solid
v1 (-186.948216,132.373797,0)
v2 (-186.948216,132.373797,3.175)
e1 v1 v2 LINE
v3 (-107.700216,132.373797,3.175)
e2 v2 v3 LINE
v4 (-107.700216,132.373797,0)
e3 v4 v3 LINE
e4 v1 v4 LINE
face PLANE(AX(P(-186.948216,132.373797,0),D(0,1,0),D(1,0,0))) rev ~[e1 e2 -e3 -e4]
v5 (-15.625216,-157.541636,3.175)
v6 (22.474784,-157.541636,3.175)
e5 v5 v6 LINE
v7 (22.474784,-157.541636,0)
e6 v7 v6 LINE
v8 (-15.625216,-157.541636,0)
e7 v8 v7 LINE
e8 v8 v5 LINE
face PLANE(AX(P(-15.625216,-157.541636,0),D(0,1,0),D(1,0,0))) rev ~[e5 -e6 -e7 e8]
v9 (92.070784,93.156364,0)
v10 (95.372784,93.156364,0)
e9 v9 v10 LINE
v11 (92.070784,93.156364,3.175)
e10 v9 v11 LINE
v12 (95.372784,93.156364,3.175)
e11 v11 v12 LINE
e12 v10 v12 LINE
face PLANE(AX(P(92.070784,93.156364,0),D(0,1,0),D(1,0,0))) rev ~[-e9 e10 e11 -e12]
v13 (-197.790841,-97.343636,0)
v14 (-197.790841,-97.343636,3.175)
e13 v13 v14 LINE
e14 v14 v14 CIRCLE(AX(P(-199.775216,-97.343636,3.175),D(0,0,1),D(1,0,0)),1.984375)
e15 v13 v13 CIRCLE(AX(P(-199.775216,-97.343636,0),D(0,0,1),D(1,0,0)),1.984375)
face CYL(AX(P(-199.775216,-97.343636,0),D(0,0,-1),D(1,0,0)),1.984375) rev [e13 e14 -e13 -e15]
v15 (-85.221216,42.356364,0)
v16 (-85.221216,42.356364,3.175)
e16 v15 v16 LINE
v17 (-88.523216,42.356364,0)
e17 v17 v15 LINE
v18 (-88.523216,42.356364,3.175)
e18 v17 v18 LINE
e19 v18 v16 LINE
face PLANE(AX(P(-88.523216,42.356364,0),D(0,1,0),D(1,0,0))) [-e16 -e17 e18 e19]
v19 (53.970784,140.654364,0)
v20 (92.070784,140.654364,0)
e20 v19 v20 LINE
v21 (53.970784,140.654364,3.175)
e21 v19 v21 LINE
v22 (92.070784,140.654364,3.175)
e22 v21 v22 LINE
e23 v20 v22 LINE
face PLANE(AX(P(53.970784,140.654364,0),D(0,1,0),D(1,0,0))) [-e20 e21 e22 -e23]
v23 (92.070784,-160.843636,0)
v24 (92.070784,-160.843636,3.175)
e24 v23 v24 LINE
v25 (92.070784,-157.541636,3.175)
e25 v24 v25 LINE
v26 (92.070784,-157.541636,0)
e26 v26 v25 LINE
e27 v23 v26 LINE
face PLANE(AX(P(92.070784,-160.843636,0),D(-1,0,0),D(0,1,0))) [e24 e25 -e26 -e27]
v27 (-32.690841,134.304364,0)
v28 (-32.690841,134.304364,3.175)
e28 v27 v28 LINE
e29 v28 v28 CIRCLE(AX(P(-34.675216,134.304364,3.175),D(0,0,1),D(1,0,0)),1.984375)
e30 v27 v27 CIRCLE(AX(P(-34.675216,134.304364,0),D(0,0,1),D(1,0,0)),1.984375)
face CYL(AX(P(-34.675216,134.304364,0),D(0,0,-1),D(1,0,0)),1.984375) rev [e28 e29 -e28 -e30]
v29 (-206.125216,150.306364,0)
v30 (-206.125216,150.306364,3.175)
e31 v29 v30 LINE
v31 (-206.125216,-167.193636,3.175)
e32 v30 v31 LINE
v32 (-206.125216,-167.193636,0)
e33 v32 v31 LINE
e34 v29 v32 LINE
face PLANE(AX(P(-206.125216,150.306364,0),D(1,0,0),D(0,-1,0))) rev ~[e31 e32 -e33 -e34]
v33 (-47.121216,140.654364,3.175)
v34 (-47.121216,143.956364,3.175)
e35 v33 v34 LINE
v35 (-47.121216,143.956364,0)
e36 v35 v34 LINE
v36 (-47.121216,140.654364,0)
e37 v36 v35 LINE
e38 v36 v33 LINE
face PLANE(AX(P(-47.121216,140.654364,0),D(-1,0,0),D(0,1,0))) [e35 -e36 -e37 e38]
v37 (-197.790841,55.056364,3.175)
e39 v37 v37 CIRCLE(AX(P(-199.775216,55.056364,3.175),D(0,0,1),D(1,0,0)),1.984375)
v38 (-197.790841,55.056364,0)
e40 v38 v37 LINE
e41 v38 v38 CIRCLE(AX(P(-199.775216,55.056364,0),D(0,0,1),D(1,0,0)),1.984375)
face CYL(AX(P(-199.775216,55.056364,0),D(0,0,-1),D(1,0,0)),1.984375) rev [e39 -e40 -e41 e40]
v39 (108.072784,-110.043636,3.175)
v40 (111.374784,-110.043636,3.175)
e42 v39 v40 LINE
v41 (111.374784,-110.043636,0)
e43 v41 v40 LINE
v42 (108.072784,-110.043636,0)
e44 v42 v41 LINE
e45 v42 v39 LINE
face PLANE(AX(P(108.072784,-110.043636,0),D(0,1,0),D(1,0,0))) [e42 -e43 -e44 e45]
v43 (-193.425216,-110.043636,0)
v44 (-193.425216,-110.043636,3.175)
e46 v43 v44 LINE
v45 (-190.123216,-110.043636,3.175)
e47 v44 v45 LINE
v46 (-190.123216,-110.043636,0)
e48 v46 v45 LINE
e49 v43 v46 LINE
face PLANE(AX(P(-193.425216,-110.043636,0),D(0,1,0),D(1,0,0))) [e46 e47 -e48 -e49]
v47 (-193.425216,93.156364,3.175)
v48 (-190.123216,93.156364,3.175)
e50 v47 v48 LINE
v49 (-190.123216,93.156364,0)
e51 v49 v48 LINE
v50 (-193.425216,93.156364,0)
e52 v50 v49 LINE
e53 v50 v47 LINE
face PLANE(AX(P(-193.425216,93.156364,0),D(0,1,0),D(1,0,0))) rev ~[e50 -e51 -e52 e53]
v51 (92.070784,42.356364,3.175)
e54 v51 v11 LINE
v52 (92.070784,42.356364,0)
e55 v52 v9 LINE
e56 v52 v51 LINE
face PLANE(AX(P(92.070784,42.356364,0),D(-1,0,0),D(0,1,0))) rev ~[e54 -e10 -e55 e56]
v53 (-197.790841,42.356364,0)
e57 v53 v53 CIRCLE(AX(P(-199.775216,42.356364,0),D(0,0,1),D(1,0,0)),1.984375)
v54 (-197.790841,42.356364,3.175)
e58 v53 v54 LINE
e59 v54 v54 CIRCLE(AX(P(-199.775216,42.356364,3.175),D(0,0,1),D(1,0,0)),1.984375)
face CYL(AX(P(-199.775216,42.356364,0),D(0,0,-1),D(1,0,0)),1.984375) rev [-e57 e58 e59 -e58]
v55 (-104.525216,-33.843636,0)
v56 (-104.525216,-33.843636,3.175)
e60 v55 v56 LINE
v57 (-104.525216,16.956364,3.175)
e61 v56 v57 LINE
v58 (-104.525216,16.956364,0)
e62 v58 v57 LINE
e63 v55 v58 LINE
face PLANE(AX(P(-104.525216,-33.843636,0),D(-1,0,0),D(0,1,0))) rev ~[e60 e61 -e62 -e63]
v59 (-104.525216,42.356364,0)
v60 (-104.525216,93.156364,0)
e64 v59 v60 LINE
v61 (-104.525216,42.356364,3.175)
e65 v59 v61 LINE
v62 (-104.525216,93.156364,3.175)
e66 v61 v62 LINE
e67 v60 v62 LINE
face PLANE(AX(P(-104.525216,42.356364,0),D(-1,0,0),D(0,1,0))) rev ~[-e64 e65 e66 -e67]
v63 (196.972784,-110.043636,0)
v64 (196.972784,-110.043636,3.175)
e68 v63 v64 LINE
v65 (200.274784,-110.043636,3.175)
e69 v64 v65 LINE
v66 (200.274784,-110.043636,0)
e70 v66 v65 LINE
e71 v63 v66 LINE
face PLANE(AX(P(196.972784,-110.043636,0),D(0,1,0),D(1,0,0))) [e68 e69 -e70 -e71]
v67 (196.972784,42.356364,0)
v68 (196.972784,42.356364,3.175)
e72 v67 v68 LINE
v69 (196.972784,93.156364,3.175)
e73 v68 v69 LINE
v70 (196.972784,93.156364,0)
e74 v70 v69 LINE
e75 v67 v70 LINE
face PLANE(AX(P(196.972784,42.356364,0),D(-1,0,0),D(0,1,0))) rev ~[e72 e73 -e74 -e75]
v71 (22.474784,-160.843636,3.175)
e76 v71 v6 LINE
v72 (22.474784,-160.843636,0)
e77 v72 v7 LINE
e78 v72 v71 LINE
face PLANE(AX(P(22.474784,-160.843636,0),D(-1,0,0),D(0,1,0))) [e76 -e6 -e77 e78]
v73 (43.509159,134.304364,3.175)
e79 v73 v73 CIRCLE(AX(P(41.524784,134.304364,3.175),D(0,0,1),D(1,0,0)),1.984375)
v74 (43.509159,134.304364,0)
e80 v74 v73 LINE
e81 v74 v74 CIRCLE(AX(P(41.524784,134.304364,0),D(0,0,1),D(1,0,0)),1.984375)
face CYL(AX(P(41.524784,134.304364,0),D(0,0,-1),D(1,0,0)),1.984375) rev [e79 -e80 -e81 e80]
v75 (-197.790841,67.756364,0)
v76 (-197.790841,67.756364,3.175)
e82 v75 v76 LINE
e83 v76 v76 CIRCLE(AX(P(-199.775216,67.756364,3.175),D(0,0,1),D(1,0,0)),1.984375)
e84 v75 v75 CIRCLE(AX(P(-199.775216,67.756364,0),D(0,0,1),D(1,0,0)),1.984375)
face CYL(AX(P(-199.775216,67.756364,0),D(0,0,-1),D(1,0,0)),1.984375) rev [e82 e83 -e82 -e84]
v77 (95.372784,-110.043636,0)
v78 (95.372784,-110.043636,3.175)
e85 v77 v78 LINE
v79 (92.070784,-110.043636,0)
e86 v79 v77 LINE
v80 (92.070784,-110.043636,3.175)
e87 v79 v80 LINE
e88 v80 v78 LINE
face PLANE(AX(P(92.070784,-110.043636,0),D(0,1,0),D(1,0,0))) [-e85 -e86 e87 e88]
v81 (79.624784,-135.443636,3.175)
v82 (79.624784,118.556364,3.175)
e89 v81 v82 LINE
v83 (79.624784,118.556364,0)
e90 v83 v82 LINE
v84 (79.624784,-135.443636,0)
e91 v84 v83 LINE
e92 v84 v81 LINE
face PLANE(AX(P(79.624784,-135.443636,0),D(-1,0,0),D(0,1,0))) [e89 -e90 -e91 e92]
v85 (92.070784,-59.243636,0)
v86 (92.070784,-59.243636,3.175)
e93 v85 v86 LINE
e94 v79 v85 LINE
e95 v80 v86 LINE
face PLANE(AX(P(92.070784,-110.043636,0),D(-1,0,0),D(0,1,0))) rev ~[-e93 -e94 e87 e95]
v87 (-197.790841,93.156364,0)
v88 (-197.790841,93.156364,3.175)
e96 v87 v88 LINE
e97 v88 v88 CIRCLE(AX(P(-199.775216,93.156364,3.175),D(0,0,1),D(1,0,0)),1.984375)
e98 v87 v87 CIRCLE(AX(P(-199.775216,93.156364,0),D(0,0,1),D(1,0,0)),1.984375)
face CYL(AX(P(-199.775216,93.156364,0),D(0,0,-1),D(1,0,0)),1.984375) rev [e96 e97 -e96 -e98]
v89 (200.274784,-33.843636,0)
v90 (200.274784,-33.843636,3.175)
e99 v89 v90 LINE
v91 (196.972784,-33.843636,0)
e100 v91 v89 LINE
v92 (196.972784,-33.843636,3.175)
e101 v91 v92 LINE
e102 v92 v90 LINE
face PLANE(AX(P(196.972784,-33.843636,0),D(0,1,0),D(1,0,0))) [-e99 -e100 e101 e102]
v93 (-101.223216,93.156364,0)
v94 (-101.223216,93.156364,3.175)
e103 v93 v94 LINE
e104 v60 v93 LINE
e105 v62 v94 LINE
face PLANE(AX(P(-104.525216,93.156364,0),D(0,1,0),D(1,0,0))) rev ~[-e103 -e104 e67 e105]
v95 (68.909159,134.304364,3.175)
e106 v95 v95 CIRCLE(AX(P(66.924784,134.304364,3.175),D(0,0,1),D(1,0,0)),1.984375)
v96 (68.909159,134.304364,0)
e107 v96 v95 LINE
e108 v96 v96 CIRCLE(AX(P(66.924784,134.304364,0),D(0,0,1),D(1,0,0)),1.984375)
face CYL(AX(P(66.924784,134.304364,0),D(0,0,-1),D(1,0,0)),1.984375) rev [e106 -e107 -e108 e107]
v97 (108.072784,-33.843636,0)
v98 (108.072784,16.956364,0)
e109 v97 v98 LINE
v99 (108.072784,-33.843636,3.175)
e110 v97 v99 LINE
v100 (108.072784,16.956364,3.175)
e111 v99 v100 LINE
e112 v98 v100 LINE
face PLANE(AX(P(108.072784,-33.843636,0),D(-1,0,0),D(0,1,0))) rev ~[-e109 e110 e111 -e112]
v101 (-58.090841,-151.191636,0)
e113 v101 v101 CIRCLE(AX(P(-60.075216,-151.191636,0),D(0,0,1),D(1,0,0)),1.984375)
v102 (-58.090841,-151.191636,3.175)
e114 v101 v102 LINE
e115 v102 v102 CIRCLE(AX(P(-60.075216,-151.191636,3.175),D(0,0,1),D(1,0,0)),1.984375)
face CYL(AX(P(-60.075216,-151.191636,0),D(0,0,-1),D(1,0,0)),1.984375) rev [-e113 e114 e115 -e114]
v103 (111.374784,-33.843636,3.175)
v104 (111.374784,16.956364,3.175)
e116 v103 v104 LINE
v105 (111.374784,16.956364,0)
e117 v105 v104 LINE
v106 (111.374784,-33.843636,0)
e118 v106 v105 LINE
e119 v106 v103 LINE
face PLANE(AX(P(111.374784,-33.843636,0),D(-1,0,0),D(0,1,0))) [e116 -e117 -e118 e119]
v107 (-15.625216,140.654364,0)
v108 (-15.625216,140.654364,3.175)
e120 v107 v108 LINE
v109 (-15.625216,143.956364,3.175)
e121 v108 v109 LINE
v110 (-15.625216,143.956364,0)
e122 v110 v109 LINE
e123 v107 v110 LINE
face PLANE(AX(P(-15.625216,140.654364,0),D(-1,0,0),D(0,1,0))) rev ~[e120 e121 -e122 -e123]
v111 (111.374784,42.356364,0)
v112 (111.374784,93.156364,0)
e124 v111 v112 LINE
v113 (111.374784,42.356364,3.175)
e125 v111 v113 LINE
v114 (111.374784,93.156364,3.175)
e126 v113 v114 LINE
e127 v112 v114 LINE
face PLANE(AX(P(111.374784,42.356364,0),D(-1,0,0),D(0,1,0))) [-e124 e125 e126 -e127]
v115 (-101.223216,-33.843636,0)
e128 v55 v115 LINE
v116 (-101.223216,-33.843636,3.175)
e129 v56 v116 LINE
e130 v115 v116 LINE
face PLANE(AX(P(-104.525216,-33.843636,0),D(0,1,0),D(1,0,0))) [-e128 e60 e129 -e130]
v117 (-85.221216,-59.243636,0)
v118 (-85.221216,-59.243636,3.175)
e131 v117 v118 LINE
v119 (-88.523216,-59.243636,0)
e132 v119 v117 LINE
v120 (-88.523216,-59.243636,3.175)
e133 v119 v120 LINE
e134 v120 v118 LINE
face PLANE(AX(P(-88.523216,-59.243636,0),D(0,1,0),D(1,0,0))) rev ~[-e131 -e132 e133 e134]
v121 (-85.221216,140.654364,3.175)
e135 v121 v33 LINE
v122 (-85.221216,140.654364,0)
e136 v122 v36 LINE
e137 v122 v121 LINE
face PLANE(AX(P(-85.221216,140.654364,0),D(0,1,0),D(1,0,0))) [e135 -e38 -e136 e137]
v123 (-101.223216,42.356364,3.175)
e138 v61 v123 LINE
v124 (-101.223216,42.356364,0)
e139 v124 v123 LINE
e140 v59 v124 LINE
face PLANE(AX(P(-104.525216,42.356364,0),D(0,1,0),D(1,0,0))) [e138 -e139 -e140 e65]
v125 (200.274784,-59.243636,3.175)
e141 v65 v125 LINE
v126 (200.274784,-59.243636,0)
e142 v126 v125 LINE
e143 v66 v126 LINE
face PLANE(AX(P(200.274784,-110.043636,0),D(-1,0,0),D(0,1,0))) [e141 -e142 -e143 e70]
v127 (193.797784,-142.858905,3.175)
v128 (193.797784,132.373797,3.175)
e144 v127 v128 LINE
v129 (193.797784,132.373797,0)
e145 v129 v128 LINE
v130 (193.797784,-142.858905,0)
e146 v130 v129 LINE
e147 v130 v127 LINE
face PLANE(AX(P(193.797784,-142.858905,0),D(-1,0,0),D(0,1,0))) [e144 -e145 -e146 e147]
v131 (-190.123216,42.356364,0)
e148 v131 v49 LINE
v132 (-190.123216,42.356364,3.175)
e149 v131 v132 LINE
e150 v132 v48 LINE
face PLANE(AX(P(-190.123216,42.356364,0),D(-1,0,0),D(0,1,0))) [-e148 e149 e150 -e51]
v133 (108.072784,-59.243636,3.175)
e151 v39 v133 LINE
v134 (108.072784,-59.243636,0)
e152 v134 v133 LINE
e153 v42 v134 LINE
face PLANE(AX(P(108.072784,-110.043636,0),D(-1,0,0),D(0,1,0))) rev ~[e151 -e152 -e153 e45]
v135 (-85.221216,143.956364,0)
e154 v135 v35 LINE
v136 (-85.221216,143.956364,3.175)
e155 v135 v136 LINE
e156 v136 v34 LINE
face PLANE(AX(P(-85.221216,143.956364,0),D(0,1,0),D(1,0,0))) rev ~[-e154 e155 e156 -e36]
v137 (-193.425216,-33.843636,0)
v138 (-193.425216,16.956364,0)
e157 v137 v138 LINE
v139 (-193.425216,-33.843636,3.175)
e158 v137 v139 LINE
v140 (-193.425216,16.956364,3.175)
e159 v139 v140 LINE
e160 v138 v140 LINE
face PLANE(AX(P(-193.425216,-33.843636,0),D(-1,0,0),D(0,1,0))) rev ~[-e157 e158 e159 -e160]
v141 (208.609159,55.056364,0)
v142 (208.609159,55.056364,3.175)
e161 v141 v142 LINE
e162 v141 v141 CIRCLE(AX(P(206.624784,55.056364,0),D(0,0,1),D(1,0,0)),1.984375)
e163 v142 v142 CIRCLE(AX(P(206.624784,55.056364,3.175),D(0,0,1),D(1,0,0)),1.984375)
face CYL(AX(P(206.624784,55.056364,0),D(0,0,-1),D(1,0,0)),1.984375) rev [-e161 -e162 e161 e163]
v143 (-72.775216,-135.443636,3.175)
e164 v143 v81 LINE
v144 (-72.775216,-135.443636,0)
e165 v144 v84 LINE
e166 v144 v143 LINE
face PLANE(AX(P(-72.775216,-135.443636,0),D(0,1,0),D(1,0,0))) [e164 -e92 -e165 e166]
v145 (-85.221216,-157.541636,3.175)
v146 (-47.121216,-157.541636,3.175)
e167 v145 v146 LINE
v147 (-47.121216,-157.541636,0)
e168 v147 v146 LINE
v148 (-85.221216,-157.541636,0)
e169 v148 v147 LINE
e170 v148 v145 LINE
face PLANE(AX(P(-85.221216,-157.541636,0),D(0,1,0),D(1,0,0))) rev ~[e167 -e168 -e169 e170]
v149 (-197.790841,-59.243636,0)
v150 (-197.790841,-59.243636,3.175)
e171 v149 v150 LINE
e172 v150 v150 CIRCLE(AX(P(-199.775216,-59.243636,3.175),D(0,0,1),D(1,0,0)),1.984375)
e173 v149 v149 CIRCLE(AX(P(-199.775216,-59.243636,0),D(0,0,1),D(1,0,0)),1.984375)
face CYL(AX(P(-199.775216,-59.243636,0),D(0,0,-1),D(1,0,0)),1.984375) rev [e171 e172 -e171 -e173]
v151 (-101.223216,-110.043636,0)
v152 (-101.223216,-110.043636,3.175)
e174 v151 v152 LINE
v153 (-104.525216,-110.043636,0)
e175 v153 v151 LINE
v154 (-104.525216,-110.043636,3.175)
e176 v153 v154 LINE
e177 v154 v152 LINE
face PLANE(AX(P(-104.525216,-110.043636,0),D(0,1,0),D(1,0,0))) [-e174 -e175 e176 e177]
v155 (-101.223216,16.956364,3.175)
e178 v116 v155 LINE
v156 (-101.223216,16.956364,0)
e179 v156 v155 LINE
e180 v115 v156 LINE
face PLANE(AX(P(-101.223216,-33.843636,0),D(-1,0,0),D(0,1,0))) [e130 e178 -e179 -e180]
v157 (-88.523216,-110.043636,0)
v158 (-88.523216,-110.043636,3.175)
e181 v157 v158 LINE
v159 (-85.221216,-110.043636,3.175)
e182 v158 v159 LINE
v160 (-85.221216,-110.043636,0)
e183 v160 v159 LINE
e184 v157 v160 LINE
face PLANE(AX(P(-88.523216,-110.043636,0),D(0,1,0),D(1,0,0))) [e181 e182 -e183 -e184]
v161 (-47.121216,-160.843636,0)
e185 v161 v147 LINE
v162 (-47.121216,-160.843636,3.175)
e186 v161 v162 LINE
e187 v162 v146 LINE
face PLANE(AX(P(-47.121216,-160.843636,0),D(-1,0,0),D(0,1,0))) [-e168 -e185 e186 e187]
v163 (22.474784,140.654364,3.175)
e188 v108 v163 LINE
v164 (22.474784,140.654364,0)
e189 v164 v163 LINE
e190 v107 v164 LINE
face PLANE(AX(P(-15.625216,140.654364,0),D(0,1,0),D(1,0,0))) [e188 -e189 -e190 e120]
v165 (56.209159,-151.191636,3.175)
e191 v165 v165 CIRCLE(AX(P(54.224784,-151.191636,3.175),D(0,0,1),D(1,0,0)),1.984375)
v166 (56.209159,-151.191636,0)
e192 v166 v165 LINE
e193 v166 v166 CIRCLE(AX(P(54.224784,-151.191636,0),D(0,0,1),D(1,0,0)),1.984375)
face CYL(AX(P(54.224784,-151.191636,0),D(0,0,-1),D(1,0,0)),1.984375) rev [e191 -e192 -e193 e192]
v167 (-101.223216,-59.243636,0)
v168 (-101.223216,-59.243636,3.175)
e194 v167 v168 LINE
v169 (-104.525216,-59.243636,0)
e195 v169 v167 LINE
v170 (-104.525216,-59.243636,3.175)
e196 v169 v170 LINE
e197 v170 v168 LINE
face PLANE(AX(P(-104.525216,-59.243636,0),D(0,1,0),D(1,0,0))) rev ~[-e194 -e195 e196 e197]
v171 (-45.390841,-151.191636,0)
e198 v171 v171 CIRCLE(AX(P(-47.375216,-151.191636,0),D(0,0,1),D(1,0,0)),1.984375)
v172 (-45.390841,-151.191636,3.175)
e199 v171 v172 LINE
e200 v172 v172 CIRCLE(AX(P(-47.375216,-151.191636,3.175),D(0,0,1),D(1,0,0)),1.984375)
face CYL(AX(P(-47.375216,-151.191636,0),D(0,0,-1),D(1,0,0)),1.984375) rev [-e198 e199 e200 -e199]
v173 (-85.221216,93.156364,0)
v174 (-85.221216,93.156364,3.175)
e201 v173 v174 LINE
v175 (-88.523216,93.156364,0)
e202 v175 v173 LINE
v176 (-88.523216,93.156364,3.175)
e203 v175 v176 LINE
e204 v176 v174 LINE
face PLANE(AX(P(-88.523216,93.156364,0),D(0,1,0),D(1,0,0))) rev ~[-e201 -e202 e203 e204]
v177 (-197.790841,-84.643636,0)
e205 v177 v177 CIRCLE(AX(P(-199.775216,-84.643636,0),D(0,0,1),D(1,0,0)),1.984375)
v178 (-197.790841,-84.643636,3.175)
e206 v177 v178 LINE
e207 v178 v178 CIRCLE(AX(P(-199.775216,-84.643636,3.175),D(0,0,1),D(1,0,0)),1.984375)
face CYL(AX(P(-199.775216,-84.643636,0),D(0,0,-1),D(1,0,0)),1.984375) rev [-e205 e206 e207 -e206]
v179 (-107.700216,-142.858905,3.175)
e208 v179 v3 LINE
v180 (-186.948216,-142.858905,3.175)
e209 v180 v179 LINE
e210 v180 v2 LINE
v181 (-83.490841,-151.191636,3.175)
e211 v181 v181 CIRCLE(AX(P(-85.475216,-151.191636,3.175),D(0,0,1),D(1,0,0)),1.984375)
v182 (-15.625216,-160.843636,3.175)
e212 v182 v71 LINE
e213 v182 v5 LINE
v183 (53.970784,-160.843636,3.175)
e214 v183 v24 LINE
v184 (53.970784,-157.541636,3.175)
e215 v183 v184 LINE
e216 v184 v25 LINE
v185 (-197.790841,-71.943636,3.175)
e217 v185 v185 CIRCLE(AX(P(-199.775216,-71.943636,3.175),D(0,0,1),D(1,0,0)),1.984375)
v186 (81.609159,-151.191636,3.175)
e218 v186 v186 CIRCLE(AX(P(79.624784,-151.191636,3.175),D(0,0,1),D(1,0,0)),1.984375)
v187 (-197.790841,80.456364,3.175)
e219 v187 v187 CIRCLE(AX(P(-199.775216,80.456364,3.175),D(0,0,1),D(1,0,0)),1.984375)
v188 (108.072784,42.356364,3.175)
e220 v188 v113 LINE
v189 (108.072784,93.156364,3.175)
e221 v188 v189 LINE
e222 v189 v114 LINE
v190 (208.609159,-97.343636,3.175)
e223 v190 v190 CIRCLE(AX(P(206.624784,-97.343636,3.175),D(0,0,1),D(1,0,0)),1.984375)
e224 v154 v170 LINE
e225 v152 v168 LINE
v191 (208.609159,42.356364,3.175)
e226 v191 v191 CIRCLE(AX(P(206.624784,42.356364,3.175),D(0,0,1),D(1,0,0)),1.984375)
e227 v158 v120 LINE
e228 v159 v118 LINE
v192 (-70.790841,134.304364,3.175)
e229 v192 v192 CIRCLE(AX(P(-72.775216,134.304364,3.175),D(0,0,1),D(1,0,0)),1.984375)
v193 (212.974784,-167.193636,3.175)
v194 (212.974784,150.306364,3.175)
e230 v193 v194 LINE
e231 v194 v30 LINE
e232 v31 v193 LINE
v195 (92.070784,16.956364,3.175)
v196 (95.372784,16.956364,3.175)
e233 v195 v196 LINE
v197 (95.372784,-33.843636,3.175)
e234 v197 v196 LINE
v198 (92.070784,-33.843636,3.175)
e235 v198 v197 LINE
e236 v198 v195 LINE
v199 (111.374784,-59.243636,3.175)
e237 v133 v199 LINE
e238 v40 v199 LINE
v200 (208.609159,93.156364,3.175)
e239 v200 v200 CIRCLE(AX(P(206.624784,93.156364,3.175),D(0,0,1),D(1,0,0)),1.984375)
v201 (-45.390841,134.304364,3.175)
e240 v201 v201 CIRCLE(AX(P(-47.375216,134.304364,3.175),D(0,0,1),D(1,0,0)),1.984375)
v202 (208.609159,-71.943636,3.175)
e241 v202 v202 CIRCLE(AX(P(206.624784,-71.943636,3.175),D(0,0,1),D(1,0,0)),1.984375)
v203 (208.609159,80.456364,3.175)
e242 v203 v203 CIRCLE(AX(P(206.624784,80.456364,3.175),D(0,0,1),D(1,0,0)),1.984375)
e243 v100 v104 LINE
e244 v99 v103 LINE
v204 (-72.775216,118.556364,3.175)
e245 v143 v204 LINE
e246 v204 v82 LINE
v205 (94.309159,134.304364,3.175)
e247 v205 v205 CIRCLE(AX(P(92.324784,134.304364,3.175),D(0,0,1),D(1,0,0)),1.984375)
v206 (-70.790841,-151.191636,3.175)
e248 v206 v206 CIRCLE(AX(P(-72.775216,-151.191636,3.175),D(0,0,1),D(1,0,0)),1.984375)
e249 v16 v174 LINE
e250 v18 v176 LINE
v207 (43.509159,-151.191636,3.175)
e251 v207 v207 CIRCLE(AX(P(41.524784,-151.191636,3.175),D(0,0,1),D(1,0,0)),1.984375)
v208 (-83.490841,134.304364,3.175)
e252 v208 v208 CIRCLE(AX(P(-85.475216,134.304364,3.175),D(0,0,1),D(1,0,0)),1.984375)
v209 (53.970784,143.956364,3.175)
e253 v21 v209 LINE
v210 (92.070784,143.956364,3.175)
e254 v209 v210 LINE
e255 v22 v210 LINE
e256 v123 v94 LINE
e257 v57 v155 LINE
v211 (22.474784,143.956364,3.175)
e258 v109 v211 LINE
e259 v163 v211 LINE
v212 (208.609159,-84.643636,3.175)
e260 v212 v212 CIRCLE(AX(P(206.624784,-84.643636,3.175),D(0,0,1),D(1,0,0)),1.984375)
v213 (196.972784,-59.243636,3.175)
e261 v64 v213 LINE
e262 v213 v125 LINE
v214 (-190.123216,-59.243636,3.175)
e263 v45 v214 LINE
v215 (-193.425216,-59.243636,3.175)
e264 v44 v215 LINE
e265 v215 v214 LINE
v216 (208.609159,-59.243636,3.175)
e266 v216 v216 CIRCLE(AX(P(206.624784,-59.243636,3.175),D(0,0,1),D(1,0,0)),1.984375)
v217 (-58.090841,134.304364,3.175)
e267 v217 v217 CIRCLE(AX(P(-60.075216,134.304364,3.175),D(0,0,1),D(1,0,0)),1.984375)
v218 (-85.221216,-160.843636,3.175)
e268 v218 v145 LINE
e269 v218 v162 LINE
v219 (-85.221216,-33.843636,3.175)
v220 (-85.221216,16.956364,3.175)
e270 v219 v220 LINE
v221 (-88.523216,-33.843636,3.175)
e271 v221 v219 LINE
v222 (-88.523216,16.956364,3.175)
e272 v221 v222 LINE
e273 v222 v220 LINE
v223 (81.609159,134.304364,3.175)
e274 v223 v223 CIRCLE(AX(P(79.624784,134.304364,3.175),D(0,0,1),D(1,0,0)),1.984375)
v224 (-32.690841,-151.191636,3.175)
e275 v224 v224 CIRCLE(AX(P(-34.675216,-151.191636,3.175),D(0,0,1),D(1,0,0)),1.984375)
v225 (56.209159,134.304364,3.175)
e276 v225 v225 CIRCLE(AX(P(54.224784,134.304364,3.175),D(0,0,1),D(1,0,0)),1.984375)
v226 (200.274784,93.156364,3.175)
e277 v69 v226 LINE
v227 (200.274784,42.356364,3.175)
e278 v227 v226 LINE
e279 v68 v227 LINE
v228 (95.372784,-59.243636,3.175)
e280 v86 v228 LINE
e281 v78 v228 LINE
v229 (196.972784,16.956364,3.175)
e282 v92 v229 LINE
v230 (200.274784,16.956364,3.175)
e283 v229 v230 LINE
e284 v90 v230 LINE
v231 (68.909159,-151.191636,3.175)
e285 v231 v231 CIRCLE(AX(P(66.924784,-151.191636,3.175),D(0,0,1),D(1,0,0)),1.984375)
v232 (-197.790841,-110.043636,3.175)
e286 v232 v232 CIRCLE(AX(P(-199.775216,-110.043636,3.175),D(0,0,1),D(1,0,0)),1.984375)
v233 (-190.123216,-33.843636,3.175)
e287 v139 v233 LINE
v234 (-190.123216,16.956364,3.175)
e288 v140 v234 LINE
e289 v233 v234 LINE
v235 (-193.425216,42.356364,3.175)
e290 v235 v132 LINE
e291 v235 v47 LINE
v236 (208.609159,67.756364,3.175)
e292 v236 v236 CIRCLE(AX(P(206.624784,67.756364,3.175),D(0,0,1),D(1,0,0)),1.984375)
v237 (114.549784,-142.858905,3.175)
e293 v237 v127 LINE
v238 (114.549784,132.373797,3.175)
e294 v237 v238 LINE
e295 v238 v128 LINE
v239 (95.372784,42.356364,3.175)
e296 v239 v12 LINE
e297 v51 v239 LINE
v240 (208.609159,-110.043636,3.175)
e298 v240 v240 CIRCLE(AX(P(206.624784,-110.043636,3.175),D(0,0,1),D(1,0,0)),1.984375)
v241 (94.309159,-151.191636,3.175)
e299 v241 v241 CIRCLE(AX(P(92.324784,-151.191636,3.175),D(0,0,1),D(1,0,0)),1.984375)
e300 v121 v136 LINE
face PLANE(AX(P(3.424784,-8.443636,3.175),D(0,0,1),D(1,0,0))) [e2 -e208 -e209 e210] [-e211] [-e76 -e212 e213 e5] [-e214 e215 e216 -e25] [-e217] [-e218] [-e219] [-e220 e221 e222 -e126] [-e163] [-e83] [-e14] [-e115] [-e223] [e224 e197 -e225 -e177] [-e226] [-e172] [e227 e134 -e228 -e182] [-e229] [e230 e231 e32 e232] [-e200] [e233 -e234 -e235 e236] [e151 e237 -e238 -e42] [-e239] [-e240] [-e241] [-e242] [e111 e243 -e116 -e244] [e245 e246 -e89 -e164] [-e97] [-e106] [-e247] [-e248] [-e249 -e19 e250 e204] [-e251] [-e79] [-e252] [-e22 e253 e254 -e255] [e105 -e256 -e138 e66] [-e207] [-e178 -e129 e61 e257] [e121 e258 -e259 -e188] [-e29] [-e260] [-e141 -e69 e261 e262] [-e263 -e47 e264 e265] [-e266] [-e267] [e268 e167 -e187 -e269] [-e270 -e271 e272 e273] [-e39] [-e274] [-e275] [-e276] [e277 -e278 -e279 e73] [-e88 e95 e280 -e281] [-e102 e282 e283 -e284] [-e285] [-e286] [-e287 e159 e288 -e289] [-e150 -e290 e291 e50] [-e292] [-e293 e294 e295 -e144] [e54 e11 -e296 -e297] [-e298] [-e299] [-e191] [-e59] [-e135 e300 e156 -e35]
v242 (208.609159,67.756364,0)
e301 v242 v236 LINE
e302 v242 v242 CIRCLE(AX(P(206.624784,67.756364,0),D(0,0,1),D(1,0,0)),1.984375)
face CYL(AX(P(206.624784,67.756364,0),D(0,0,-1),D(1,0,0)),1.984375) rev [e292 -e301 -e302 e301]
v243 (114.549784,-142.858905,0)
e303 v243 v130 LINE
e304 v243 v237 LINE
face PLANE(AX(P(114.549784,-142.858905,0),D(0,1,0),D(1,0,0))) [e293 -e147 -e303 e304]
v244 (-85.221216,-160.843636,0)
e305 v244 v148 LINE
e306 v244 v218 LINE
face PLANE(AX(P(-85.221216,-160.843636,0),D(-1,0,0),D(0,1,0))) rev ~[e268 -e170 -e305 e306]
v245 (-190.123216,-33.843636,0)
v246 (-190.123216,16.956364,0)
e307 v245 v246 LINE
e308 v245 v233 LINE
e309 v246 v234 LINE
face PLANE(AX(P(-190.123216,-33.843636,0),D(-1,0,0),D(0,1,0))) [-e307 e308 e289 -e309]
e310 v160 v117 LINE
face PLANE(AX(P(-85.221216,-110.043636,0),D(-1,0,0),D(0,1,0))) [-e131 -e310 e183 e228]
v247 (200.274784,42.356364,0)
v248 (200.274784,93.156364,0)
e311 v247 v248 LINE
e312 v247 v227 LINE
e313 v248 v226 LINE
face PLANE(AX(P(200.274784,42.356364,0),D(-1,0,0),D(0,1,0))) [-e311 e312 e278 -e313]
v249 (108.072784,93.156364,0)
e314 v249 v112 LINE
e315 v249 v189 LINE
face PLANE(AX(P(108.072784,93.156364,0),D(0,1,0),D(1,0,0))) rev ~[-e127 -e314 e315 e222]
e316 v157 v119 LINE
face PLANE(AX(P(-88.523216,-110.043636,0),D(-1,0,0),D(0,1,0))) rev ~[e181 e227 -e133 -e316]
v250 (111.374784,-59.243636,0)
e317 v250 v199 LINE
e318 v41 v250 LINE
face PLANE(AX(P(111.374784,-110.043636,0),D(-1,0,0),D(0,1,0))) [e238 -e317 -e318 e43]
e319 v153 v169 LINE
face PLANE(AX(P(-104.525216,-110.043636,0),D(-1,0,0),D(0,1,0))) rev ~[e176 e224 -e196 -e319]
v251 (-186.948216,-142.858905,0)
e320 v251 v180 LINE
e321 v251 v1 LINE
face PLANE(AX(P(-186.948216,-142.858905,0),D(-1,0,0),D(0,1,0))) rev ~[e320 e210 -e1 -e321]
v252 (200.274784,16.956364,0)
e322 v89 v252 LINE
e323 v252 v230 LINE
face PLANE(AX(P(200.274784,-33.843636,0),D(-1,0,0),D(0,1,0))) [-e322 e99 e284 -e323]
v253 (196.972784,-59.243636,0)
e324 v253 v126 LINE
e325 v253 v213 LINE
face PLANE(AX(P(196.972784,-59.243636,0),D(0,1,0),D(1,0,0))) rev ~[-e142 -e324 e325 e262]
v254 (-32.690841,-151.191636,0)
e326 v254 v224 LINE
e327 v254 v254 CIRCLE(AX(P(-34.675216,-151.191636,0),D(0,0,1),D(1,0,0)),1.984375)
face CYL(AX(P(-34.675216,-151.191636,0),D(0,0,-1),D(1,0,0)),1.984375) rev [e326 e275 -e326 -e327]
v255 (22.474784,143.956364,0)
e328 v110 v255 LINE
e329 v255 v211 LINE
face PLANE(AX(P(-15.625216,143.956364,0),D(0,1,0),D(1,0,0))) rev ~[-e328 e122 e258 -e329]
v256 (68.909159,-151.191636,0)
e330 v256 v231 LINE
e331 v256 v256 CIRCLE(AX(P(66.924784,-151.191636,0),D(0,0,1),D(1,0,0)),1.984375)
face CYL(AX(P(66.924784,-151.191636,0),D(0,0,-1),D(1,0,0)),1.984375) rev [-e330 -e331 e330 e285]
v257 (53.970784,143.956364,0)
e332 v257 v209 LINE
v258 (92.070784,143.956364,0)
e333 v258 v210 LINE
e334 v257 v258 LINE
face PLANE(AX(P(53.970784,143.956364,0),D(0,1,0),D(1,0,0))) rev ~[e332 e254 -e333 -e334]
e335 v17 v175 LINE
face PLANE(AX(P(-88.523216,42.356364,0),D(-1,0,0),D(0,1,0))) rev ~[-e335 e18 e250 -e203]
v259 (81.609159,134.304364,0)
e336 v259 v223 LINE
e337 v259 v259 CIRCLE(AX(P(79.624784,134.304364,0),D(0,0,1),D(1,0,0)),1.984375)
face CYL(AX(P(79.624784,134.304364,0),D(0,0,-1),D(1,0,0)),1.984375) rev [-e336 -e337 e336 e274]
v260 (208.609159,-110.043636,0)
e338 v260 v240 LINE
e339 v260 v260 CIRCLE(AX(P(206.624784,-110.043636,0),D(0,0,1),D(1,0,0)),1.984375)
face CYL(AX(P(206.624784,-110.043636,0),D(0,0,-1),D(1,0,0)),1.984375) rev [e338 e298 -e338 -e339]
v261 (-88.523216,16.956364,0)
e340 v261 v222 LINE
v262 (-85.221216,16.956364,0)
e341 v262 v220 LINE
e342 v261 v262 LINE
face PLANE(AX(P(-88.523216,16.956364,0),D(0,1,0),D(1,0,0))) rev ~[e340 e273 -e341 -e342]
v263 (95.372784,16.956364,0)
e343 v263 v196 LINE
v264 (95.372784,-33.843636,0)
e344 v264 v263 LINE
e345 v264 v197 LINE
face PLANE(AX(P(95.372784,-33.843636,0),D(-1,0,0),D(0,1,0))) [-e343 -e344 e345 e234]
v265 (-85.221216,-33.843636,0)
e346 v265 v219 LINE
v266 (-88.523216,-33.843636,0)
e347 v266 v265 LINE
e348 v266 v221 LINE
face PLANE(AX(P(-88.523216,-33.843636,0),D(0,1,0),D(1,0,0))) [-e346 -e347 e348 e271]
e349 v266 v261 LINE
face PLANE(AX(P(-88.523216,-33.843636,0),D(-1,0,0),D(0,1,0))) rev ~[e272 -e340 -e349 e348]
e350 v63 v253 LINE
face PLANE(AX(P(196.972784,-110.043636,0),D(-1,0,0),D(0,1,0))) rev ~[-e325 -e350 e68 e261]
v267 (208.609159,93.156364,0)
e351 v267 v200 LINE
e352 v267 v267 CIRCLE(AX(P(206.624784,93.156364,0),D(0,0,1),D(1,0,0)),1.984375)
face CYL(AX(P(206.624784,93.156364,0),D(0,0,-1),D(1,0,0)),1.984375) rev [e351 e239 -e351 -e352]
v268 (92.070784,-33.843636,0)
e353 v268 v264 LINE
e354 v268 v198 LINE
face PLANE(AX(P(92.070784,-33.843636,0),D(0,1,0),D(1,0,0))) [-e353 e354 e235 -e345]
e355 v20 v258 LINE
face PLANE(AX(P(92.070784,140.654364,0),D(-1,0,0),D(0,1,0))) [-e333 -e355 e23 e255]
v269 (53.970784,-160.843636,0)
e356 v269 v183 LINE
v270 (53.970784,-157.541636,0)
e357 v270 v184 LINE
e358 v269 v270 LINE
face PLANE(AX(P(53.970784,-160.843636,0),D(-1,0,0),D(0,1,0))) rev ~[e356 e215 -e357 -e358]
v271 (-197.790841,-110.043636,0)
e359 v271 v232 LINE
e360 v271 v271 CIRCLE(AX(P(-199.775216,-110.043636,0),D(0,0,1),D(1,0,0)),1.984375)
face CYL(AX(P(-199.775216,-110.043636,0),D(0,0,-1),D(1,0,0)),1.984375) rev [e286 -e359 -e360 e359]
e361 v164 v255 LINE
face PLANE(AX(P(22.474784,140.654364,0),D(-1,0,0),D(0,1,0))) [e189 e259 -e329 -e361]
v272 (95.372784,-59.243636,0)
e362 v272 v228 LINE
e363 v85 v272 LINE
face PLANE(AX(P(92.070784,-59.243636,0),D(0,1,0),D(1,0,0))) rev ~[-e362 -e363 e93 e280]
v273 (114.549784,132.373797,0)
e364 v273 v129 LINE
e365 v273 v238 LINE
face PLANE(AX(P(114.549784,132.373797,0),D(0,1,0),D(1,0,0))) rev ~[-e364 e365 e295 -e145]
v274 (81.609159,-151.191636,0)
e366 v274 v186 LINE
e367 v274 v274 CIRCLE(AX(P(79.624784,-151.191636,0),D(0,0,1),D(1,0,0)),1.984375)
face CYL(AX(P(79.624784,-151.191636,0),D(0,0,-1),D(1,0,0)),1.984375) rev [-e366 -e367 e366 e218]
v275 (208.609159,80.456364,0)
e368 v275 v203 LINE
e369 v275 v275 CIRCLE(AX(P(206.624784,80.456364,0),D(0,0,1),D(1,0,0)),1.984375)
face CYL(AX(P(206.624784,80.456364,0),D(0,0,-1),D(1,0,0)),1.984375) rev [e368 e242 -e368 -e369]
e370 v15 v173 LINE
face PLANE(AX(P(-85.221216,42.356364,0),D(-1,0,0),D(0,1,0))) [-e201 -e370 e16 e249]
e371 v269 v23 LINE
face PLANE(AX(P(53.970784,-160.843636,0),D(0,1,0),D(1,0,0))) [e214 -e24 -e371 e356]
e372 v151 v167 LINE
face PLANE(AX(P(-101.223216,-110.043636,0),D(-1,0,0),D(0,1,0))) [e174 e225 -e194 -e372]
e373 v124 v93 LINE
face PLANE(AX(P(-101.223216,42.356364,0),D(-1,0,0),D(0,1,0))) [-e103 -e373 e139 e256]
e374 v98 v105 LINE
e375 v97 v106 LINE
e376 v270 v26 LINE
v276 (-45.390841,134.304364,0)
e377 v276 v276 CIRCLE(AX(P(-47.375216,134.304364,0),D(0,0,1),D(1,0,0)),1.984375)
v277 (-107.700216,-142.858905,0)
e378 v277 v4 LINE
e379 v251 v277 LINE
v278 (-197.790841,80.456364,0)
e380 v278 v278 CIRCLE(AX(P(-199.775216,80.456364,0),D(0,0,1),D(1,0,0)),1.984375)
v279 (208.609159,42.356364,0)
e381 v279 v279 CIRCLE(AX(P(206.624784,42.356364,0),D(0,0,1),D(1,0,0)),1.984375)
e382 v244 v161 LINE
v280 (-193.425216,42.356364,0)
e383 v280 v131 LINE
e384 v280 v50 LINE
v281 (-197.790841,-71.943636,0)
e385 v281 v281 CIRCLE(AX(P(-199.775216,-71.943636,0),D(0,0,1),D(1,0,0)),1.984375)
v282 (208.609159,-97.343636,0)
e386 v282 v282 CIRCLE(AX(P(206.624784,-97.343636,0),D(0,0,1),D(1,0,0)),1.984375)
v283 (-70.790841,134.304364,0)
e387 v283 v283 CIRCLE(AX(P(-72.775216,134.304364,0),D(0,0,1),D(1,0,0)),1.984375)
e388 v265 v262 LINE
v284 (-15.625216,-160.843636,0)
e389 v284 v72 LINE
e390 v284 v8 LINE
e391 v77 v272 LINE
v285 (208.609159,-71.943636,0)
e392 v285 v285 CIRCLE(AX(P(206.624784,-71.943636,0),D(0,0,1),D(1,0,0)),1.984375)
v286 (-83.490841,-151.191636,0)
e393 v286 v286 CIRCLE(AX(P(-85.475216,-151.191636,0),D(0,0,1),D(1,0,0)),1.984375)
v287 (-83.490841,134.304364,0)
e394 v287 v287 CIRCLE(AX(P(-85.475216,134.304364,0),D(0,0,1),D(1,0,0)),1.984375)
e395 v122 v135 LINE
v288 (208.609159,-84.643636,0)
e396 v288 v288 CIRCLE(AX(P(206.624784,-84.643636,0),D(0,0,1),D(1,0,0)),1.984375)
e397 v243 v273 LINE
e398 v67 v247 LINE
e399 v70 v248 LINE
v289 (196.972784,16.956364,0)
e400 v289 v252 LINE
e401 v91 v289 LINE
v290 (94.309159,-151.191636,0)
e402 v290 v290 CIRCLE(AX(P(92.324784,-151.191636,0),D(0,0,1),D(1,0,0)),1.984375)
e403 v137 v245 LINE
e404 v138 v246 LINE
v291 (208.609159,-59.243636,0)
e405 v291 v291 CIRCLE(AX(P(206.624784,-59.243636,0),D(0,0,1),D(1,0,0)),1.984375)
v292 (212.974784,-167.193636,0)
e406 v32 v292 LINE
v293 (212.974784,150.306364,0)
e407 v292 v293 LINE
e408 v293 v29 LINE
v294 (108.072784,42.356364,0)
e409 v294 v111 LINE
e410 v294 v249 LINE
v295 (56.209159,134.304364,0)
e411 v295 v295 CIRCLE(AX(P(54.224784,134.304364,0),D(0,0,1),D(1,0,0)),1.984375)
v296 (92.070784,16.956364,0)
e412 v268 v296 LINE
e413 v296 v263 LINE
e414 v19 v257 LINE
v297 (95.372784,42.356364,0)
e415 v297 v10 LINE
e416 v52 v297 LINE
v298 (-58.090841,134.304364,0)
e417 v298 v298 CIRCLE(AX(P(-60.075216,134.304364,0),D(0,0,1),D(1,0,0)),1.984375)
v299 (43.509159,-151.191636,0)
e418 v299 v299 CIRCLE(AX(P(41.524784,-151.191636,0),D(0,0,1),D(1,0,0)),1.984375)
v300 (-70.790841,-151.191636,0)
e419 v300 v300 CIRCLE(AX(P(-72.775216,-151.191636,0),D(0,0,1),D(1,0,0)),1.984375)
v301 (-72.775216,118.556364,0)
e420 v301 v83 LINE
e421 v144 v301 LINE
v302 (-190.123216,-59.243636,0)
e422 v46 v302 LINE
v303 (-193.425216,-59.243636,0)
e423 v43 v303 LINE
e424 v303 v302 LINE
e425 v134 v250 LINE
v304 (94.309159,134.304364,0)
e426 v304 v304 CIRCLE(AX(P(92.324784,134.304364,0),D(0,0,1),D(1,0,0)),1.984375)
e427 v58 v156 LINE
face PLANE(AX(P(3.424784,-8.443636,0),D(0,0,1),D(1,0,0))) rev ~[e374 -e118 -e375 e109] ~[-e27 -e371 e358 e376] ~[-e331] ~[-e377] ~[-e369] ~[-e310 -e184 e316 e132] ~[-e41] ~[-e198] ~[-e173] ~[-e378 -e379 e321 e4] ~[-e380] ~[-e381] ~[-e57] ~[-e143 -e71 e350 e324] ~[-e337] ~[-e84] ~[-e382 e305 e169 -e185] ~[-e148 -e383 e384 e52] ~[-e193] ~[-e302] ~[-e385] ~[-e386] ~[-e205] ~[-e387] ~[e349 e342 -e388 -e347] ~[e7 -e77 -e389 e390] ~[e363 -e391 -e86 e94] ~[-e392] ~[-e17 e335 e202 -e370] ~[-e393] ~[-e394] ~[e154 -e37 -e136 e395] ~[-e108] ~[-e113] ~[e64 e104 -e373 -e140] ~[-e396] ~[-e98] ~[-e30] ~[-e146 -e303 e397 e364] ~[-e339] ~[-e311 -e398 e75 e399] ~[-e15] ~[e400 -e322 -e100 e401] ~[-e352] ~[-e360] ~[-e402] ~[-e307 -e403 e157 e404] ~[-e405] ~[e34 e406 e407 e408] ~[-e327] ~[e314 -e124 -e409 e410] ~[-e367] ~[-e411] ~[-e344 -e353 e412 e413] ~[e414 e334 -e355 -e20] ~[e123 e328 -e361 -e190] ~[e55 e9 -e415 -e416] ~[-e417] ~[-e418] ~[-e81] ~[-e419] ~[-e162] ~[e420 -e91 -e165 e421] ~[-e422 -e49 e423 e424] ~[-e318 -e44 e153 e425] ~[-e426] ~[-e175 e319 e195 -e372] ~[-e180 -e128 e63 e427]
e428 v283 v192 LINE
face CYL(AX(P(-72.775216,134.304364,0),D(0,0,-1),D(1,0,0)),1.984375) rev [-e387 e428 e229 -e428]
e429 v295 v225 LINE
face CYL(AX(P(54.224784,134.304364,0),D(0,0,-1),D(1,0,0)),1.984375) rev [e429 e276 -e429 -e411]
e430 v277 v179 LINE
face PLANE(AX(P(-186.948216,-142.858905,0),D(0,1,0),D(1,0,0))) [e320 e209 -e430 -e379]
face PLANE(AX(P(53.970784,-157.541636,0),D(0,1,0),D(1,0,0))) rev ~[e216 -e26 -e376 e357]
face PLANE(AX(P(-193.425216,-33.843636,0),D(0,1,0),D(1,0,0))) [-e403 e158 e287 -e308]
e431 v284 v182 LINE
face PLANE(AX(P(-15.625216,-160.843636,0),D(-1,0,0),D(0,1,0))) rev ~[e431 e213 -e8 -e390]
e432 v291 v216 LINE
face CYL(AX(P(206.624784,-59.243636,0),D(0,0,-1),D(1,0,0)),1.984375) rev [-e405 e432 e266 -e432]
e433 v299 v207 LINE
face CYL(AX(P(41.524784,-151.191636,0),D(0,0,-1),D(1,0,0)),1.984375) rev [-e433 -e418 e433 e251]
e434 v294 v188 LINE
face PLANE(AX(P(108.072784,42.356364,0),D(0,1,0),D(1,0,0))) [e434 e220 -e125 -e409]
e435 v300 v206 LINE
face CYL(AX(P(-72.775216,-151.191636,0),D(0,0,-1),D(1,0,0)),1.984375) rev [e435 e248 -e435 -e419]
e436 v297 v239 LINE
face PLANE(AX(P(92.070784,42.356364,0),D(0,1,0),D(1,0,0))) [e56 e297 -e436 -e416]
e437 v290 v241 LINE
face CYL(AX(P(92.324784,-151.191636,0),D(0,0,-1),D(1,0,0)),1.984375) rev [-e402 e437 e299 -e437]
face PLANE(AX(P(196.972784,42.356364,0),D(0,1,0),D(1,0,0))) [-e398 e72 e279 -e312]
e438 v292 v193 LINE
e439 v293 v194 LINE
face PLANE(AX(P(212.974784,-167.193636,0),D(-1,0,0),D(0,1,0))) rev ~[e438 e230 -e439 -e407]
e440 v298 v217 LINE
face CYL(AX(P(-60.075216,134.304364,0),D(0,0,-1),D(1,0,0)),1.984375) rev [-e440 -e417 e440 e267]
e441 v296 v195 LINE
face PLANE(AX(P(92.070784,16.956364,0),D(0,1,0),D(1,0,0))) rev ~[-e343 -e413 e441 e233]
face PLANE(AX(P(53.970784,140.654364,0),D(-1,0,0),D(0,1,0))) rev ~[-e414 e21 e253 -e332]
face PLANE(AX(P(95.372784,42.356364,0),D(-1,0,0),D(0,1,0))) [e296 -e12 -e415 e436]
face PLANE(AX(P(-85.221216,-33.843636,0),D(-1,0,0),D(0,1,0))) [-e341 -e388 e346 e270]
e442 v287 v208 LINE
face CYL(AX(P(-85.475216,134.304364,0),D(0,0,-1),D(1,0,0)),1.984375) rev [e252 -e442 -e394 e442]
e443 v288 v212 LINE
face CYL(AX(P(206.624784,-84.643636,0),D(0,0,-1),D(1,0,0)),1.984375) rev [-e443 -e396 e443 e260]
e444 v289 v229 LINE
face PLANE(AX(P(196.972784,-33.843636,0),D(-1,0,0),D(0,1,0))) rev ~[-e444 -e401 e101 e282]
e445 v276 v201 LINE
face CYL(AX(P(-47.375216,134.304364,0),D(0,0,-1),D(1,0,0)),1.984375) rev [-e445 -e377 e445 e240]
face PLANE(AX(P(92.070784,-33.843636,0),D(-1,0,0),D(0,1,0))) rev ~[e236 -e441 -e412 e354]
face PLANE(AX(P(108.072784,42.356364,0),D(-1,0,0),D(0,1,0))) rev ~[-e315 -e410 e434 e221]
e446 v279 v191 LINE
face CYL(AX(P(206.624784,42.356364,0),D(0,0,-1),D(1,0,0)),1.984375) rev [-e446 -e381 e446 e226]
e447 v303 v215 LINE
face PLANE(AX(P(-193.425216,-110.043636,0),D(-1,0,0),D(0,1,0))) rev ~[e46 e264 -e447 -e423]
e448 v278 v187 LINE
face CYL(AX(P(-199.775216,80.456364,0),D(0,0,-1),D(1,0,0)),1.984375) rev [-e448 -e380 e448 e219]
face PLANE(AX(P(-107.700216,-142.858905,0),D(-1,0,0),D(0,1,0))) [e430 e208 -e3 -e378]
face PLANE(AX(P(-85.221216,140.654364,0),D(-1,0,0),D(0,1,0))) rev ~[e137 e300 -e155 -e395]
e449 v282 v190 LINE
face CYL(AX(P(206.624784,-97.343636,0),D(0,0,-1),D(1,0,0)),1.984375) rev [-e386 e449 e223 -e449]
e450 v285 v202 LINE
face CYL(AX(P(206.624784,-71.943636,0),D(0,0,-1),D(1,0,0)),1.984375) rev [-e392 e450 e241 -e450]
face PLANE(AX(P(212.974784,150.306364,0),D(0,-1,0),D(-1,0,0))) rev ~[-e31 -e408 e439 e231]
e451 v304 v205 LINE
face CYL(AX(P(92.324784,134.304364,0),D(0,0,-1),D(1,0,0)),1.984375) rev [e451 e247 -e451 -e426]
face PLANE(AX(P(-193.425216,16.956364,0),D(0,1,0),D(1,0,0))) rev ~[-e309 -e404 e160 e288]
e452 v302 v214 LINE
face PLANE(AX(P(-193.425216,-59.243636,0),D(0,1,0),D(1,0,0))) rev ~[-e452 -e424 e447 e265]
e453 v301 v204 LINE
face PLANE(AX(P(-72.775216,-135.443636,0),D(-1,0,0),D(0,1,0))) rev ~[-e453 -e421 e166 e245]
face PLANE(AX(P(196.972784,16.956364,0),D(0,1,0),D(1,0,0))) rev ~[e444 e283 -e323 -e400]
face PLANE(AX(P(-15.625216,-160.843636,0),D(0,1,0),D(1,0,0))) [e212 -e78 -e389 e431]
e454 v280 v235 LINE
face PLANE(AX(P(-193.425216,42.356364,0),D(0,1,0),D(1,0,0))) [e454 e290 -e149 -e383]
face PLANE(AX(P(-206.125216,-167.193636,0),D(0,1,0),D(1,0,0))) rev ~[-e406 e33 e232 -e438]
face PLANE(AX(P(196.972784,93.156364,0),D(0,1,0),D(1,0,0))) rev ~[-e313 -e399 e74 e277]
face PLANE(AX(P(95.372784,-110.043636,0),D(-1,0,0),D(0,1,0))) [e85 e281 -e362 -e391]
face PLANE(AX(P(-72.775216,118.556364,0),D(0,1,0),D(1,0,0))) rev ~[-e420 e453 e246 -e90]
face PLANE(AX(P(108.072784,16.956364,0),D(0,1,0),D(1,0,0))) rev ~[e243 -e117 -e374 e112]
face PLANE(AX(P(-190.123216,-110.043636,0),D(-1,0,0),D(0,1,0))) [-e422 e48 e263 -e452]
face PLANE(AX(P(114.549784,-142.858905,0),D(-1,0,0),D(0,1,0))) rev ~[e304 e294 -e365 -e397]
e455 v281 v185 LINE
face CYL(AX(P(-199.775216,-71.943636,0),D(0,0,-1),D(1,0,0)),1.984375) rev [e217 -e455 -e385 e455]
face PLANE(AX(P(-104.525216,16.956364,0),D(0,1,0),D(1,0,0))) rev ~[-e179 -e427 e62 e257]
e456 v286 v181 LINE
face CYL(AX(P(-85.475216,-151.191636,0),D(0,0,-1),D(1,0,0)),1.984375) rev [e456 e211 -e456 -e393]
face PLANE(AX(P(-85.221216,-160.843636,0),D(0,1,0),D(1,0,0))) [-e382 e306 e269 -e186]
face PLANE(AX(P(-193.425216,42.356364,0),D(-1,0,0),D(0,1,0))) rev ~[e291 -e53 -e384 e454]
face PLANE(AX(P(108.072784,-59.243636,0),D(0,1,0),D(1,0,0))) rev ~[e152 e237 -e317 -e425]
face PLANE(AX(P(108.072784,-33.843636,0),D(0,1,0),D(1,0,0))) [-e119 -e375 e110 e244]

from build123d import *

# Parameters (mm, degrees)
F0_R     = 1.984375
F0_W     = 38.1
F0_H     = 3.302
F0_W_2   = 3.302
F0_H_2   = 50.8
F0_W_3   = 79.248
F0_H_3   = 275.232702
F0_W_4   = 152.4
F0_H_4   = 254
F1_DEPTH = 3.175


with BuildPart() as f1:
    # F0 (on Top) → F1 (new body)
    with BuildSketch(Plane.XY):
        Polygon((-107.700216, 150.306364), (-206.125216, 150.306364), (-206.125216, -167.193636), (-107.700216, -167.193636), (114.549784, -167.193636), (212.974784, -167.193636), (212.974784, 150.306364), (114.549784, 150.306364), align=None)
        with Locations((-199.775216, -110.043636)):
            Circle(F0_R, mode=Mode.SUBTRACT)
        with Locations((-199.775216, -97.343636)):
            Circle(F0_R, mode=Mode.SUBTRACT)
        with Locations((-85.475216, -151.191636)):
            Circle(F0_R, mode=Mode.SUBTRACT)
        with Locations((-66.171216, -159.192636)):
            Rectangle(F0_W, F0_H, mode=Mode.SUBTRACT)
        with Locations((-72.775216, -151.191636)):
            Circle(F0_R, mode=Mode.SUBTRACT)
        with Locations((-60.075216, -151.191636)):
            Circle(F0_R, mode=Mode.SUBTRACT)
        with Locations((-47.375216, -151.191636)):
            Circle(F0_R, mode=Mode.SUBTRACT)
        with Locations((-34.675216, -151.191636)):
            Circle(F0_R, mode=Mode.SUBTRACT)
        with Locations((3.424784, -159.192636)):
            Rectangle(F0_W, F0_H, mode=Mode.SUBTRACT)
        with Locations((-199.775216, -84.643636)):
            Circle(F0_R, mode=Mode.SUBTRACT)
        with Locations((-191.774216, -84.643636)):
            Rectangle(F0_W_2, F0_H_2, mode=Mode.SUBTRACT)
        with Locations((-199.775216, -71.943636)):
            Circle(F0_R, mode=Mode.SUBTRACT)
        with Locations((-199.775216, -59.243636)):
            Circle(F0_R, mode=Mode.SUBTRACT)
        with Locations((-102.874216, -84.643636)):
            Rectangle(F0_W_2, F0_H_2, mode=Mode.SUBTRACT)
        with Locations((-86.872216, -84.643636)):
            Rectangle(F0_W_2, F0_H_2, mode=Mode.SUBTRACT)
        with Locations((41.524784, -151.191636)):
            Circle(F0_R, mode=Mode.SUBTRACT)
        with Locations((54.224784, -151.191636)):
            Circle(F0_R, mode=Mode.SUBTRACT)
        with Locations((73.020784, -159.192636)):
            Rectangle(F0_W, F0_H, mode=Mode.SUBTRACT)
        with Locations((66.924784, -151.191636)):
            Circle(F0_R, mode=Mode.SUBTRACT)
        with Locations((79.624784, -151.191636)):
            Circle(F0_R, mode=Mode.SUBTRACT)
        with Locations((92.324784, -151.191636)):
            Circle(F0_R, mode=Mode.SUBTRACT)
        with Locations((206.624784, -110.043636)):
            Circle(F0_R, mode=Mode.SUBTRACT)
        with Locations((206.624784, -97.343636)):
            Circle(F0_R, mode=Mode.SUBTRACT)
        with Locations((93.721784, -84.643636)):
            Rectangle(F0_W_2, F0_H_2, mode=Mode.SUBTRACT)
        with Locations((109.723784, -84.643636)):
            Rectangle(F0_W_2, F0_H_2, mode=Mode.SUBTRACT)
        with Locations((198.623784, -84.643636)):
            Rectangle(F0_W_2, F0_H_2, mode=Mode.SUBTRACT)
        with Locations((206.624784, -84.643636)):
            Circle(F0_R, mode=Mode.SUBTRACT)
        with Locations((206.624784, -71.943636)):
            Circle(F0_R, mode=Mode.SUBTRACT)
        with Locations((206.624784, -59.243636)):
            Circle(F0_R, mode=Mode.SUBTRACT)
        with Locations((-191.774216, -8.443636)):
            Rectangle(F0_W_2, F0_H_2, mode=Mode.SUBTRACT)
        with Locations((-147.324216, -5.242554)):
            Rectangle(F0_W_3, F0_H_3, mode=Mode.SUBTRACT)
        with Locations((-102.874216, -8.443636)):
            Rectangle(F0_W_2, F0_H_2, mode=Mode.SUBTRACT)
        with Locations((-199.775216, 42.356364)):
            Circle(F0_R, mode=Mode.SUBTRACT)
        with Locations((-199.775216, 55.056364)):
            Circle(F0_R, mode=Mode.SUBTRACT)
        with Locations((-199.775216, 67.756364)):
            Circle(F0_R, mode=Mode.SUBTRACT)
        with Locations((-191.774216, 67.756364)):
            Rectangle(F0_W_2, F0_H_2, mode=Mode.SUBTRACT)
        with Locations((-102.874216, 67.756364)):
            Rectangle(F0_W_2, F0_H_2, mode=Mode.SUBTRACT)
        with Locations((-86.872216, -8.443636)):
            Rectangle(F0_W_2, F0_H_2, mode=Mode.SUBTRACT)
        with Locations((3.424784, -8.443636)):
            Rectangle(F0_W_4, F0_H_4, mode=Mode.SUBTRACT)
        with Locations((-86.872216, 67.756364)):
            Rectangle(F0_W_2, F0_H_2, mode=Mode.SUBTRACT)
        with Locations((-199.775216, 80.456364)):
            Circle(F0_R, mode=Mode.SUBTRACT)
        with Locations((-199.775216, 93.156364)):
            Circle(F0_R, mode=Mode.SUBTRACT)
        with Locations((-85.475216, 134.304364)):
            Circle(F0_R, mode=Mode.SUBTRACT)
        with Locations((-72.775216, 134.304364)):
            Circle(F0_R, mode=Mode.SUBTRACT)
        with Locations((-60.075216, 134.304364)):
            Circle(F0_R, mode=Mode.SUBTRACT)
        with Locations((-66.171216, 142.305364)):
            Rectangle(F0_W, F0_H, mode=Mode.SUBTRACT)
        with Locations((-47.375216, 134.304364)):
            Circle(F0_R, mode=Mode.SUBTRACT)
        with Locations((-34.675216, 134.304364)):
            Circle(F0_R, mode=Mode.SUBTRACT)
        with Locations((3.424784, 142.305364)):
            Rectangle(F0_W, F0_H, mode=Mode.SUBTRACT)
        with Locations((93.721784, -8.443636)):
            Rectangle(F0_W_2, F0_H_2, mode=Mode.SUBTRACT)
        with Locations((93.721784, 67.756364)):
            Rectangle(F0_W_2, F0_H_2, mode=Mode.SUBTRACT)
        with Locations((109.723784, -8.443636)):
            Rectangle(F0_W_2, F0_H_2, mode=Mode.SUBTRACT)
        with Locations((154.173784, -5.242554)):
            Rectangle(F0_W_3, F0_H_3, mode=Mode.SUBTRACT)
        with Locations((198.623784, -8.443636)):
            Rectangle(F0_W_2, F0_H_2, mode=Mode.SUBTRACT)
        with Locations((109.723784, 67.756364)):
            Rectangle(F0_W_2, F0_H_2, mode=Mode.SUBTRACT)
        with Locations((206.624784, 42.356364)):
            Circle(F0_R, mode=Mode.SUBTRACT)
        with Locations((206.624784, 55.056364)):
            Circle(F0_R, mode=Mode.SUBTRACT)
        with Locations((198.623784, 67.756364)):
            Rectangle(F0_W_2, F0_H_2, mode=Mode.SUBTRACT)
        with Locations((206.624784, 67.756364)):
            Circle(F0_R, mode=Mode.SUBTRACT)
        with Locations((41.524784, 134.304364)):
            Circle(F0_R, mode=Mode.SUBTRACT)
        with Locations((54.224784, 134.304364)):
            Circle(F0_R, mode=Mode.SUBTRACT)
        with Locations((66.924784, 134.304364)):
            Circle(F0_R, mode=Mode.SUBTRACT)
        with Locations((79.624784, 134.304364)):
            Circle(F0_R, mode=Mode.SUBTRACT)
        with Locations((73.020784, 142.305364)):
            Rectangle(F0_W, F0_H, mode=Mode.SUBTRACT)
        with Locations((92.324784, 134.304364)):
            Circle(F0_R, mode=Mode.SUBTRACT)
        with Locations((206.624784, 80.456364)):
            Circle(F0_R, mode=Mode.SUBTRACT)
        with Locations((206.624784, 93.156364)):
            Circle(F0_R, mode=Mode.SUBTRACT)
    extrude(amount=F1_DEPTH)


solid = f1.part
